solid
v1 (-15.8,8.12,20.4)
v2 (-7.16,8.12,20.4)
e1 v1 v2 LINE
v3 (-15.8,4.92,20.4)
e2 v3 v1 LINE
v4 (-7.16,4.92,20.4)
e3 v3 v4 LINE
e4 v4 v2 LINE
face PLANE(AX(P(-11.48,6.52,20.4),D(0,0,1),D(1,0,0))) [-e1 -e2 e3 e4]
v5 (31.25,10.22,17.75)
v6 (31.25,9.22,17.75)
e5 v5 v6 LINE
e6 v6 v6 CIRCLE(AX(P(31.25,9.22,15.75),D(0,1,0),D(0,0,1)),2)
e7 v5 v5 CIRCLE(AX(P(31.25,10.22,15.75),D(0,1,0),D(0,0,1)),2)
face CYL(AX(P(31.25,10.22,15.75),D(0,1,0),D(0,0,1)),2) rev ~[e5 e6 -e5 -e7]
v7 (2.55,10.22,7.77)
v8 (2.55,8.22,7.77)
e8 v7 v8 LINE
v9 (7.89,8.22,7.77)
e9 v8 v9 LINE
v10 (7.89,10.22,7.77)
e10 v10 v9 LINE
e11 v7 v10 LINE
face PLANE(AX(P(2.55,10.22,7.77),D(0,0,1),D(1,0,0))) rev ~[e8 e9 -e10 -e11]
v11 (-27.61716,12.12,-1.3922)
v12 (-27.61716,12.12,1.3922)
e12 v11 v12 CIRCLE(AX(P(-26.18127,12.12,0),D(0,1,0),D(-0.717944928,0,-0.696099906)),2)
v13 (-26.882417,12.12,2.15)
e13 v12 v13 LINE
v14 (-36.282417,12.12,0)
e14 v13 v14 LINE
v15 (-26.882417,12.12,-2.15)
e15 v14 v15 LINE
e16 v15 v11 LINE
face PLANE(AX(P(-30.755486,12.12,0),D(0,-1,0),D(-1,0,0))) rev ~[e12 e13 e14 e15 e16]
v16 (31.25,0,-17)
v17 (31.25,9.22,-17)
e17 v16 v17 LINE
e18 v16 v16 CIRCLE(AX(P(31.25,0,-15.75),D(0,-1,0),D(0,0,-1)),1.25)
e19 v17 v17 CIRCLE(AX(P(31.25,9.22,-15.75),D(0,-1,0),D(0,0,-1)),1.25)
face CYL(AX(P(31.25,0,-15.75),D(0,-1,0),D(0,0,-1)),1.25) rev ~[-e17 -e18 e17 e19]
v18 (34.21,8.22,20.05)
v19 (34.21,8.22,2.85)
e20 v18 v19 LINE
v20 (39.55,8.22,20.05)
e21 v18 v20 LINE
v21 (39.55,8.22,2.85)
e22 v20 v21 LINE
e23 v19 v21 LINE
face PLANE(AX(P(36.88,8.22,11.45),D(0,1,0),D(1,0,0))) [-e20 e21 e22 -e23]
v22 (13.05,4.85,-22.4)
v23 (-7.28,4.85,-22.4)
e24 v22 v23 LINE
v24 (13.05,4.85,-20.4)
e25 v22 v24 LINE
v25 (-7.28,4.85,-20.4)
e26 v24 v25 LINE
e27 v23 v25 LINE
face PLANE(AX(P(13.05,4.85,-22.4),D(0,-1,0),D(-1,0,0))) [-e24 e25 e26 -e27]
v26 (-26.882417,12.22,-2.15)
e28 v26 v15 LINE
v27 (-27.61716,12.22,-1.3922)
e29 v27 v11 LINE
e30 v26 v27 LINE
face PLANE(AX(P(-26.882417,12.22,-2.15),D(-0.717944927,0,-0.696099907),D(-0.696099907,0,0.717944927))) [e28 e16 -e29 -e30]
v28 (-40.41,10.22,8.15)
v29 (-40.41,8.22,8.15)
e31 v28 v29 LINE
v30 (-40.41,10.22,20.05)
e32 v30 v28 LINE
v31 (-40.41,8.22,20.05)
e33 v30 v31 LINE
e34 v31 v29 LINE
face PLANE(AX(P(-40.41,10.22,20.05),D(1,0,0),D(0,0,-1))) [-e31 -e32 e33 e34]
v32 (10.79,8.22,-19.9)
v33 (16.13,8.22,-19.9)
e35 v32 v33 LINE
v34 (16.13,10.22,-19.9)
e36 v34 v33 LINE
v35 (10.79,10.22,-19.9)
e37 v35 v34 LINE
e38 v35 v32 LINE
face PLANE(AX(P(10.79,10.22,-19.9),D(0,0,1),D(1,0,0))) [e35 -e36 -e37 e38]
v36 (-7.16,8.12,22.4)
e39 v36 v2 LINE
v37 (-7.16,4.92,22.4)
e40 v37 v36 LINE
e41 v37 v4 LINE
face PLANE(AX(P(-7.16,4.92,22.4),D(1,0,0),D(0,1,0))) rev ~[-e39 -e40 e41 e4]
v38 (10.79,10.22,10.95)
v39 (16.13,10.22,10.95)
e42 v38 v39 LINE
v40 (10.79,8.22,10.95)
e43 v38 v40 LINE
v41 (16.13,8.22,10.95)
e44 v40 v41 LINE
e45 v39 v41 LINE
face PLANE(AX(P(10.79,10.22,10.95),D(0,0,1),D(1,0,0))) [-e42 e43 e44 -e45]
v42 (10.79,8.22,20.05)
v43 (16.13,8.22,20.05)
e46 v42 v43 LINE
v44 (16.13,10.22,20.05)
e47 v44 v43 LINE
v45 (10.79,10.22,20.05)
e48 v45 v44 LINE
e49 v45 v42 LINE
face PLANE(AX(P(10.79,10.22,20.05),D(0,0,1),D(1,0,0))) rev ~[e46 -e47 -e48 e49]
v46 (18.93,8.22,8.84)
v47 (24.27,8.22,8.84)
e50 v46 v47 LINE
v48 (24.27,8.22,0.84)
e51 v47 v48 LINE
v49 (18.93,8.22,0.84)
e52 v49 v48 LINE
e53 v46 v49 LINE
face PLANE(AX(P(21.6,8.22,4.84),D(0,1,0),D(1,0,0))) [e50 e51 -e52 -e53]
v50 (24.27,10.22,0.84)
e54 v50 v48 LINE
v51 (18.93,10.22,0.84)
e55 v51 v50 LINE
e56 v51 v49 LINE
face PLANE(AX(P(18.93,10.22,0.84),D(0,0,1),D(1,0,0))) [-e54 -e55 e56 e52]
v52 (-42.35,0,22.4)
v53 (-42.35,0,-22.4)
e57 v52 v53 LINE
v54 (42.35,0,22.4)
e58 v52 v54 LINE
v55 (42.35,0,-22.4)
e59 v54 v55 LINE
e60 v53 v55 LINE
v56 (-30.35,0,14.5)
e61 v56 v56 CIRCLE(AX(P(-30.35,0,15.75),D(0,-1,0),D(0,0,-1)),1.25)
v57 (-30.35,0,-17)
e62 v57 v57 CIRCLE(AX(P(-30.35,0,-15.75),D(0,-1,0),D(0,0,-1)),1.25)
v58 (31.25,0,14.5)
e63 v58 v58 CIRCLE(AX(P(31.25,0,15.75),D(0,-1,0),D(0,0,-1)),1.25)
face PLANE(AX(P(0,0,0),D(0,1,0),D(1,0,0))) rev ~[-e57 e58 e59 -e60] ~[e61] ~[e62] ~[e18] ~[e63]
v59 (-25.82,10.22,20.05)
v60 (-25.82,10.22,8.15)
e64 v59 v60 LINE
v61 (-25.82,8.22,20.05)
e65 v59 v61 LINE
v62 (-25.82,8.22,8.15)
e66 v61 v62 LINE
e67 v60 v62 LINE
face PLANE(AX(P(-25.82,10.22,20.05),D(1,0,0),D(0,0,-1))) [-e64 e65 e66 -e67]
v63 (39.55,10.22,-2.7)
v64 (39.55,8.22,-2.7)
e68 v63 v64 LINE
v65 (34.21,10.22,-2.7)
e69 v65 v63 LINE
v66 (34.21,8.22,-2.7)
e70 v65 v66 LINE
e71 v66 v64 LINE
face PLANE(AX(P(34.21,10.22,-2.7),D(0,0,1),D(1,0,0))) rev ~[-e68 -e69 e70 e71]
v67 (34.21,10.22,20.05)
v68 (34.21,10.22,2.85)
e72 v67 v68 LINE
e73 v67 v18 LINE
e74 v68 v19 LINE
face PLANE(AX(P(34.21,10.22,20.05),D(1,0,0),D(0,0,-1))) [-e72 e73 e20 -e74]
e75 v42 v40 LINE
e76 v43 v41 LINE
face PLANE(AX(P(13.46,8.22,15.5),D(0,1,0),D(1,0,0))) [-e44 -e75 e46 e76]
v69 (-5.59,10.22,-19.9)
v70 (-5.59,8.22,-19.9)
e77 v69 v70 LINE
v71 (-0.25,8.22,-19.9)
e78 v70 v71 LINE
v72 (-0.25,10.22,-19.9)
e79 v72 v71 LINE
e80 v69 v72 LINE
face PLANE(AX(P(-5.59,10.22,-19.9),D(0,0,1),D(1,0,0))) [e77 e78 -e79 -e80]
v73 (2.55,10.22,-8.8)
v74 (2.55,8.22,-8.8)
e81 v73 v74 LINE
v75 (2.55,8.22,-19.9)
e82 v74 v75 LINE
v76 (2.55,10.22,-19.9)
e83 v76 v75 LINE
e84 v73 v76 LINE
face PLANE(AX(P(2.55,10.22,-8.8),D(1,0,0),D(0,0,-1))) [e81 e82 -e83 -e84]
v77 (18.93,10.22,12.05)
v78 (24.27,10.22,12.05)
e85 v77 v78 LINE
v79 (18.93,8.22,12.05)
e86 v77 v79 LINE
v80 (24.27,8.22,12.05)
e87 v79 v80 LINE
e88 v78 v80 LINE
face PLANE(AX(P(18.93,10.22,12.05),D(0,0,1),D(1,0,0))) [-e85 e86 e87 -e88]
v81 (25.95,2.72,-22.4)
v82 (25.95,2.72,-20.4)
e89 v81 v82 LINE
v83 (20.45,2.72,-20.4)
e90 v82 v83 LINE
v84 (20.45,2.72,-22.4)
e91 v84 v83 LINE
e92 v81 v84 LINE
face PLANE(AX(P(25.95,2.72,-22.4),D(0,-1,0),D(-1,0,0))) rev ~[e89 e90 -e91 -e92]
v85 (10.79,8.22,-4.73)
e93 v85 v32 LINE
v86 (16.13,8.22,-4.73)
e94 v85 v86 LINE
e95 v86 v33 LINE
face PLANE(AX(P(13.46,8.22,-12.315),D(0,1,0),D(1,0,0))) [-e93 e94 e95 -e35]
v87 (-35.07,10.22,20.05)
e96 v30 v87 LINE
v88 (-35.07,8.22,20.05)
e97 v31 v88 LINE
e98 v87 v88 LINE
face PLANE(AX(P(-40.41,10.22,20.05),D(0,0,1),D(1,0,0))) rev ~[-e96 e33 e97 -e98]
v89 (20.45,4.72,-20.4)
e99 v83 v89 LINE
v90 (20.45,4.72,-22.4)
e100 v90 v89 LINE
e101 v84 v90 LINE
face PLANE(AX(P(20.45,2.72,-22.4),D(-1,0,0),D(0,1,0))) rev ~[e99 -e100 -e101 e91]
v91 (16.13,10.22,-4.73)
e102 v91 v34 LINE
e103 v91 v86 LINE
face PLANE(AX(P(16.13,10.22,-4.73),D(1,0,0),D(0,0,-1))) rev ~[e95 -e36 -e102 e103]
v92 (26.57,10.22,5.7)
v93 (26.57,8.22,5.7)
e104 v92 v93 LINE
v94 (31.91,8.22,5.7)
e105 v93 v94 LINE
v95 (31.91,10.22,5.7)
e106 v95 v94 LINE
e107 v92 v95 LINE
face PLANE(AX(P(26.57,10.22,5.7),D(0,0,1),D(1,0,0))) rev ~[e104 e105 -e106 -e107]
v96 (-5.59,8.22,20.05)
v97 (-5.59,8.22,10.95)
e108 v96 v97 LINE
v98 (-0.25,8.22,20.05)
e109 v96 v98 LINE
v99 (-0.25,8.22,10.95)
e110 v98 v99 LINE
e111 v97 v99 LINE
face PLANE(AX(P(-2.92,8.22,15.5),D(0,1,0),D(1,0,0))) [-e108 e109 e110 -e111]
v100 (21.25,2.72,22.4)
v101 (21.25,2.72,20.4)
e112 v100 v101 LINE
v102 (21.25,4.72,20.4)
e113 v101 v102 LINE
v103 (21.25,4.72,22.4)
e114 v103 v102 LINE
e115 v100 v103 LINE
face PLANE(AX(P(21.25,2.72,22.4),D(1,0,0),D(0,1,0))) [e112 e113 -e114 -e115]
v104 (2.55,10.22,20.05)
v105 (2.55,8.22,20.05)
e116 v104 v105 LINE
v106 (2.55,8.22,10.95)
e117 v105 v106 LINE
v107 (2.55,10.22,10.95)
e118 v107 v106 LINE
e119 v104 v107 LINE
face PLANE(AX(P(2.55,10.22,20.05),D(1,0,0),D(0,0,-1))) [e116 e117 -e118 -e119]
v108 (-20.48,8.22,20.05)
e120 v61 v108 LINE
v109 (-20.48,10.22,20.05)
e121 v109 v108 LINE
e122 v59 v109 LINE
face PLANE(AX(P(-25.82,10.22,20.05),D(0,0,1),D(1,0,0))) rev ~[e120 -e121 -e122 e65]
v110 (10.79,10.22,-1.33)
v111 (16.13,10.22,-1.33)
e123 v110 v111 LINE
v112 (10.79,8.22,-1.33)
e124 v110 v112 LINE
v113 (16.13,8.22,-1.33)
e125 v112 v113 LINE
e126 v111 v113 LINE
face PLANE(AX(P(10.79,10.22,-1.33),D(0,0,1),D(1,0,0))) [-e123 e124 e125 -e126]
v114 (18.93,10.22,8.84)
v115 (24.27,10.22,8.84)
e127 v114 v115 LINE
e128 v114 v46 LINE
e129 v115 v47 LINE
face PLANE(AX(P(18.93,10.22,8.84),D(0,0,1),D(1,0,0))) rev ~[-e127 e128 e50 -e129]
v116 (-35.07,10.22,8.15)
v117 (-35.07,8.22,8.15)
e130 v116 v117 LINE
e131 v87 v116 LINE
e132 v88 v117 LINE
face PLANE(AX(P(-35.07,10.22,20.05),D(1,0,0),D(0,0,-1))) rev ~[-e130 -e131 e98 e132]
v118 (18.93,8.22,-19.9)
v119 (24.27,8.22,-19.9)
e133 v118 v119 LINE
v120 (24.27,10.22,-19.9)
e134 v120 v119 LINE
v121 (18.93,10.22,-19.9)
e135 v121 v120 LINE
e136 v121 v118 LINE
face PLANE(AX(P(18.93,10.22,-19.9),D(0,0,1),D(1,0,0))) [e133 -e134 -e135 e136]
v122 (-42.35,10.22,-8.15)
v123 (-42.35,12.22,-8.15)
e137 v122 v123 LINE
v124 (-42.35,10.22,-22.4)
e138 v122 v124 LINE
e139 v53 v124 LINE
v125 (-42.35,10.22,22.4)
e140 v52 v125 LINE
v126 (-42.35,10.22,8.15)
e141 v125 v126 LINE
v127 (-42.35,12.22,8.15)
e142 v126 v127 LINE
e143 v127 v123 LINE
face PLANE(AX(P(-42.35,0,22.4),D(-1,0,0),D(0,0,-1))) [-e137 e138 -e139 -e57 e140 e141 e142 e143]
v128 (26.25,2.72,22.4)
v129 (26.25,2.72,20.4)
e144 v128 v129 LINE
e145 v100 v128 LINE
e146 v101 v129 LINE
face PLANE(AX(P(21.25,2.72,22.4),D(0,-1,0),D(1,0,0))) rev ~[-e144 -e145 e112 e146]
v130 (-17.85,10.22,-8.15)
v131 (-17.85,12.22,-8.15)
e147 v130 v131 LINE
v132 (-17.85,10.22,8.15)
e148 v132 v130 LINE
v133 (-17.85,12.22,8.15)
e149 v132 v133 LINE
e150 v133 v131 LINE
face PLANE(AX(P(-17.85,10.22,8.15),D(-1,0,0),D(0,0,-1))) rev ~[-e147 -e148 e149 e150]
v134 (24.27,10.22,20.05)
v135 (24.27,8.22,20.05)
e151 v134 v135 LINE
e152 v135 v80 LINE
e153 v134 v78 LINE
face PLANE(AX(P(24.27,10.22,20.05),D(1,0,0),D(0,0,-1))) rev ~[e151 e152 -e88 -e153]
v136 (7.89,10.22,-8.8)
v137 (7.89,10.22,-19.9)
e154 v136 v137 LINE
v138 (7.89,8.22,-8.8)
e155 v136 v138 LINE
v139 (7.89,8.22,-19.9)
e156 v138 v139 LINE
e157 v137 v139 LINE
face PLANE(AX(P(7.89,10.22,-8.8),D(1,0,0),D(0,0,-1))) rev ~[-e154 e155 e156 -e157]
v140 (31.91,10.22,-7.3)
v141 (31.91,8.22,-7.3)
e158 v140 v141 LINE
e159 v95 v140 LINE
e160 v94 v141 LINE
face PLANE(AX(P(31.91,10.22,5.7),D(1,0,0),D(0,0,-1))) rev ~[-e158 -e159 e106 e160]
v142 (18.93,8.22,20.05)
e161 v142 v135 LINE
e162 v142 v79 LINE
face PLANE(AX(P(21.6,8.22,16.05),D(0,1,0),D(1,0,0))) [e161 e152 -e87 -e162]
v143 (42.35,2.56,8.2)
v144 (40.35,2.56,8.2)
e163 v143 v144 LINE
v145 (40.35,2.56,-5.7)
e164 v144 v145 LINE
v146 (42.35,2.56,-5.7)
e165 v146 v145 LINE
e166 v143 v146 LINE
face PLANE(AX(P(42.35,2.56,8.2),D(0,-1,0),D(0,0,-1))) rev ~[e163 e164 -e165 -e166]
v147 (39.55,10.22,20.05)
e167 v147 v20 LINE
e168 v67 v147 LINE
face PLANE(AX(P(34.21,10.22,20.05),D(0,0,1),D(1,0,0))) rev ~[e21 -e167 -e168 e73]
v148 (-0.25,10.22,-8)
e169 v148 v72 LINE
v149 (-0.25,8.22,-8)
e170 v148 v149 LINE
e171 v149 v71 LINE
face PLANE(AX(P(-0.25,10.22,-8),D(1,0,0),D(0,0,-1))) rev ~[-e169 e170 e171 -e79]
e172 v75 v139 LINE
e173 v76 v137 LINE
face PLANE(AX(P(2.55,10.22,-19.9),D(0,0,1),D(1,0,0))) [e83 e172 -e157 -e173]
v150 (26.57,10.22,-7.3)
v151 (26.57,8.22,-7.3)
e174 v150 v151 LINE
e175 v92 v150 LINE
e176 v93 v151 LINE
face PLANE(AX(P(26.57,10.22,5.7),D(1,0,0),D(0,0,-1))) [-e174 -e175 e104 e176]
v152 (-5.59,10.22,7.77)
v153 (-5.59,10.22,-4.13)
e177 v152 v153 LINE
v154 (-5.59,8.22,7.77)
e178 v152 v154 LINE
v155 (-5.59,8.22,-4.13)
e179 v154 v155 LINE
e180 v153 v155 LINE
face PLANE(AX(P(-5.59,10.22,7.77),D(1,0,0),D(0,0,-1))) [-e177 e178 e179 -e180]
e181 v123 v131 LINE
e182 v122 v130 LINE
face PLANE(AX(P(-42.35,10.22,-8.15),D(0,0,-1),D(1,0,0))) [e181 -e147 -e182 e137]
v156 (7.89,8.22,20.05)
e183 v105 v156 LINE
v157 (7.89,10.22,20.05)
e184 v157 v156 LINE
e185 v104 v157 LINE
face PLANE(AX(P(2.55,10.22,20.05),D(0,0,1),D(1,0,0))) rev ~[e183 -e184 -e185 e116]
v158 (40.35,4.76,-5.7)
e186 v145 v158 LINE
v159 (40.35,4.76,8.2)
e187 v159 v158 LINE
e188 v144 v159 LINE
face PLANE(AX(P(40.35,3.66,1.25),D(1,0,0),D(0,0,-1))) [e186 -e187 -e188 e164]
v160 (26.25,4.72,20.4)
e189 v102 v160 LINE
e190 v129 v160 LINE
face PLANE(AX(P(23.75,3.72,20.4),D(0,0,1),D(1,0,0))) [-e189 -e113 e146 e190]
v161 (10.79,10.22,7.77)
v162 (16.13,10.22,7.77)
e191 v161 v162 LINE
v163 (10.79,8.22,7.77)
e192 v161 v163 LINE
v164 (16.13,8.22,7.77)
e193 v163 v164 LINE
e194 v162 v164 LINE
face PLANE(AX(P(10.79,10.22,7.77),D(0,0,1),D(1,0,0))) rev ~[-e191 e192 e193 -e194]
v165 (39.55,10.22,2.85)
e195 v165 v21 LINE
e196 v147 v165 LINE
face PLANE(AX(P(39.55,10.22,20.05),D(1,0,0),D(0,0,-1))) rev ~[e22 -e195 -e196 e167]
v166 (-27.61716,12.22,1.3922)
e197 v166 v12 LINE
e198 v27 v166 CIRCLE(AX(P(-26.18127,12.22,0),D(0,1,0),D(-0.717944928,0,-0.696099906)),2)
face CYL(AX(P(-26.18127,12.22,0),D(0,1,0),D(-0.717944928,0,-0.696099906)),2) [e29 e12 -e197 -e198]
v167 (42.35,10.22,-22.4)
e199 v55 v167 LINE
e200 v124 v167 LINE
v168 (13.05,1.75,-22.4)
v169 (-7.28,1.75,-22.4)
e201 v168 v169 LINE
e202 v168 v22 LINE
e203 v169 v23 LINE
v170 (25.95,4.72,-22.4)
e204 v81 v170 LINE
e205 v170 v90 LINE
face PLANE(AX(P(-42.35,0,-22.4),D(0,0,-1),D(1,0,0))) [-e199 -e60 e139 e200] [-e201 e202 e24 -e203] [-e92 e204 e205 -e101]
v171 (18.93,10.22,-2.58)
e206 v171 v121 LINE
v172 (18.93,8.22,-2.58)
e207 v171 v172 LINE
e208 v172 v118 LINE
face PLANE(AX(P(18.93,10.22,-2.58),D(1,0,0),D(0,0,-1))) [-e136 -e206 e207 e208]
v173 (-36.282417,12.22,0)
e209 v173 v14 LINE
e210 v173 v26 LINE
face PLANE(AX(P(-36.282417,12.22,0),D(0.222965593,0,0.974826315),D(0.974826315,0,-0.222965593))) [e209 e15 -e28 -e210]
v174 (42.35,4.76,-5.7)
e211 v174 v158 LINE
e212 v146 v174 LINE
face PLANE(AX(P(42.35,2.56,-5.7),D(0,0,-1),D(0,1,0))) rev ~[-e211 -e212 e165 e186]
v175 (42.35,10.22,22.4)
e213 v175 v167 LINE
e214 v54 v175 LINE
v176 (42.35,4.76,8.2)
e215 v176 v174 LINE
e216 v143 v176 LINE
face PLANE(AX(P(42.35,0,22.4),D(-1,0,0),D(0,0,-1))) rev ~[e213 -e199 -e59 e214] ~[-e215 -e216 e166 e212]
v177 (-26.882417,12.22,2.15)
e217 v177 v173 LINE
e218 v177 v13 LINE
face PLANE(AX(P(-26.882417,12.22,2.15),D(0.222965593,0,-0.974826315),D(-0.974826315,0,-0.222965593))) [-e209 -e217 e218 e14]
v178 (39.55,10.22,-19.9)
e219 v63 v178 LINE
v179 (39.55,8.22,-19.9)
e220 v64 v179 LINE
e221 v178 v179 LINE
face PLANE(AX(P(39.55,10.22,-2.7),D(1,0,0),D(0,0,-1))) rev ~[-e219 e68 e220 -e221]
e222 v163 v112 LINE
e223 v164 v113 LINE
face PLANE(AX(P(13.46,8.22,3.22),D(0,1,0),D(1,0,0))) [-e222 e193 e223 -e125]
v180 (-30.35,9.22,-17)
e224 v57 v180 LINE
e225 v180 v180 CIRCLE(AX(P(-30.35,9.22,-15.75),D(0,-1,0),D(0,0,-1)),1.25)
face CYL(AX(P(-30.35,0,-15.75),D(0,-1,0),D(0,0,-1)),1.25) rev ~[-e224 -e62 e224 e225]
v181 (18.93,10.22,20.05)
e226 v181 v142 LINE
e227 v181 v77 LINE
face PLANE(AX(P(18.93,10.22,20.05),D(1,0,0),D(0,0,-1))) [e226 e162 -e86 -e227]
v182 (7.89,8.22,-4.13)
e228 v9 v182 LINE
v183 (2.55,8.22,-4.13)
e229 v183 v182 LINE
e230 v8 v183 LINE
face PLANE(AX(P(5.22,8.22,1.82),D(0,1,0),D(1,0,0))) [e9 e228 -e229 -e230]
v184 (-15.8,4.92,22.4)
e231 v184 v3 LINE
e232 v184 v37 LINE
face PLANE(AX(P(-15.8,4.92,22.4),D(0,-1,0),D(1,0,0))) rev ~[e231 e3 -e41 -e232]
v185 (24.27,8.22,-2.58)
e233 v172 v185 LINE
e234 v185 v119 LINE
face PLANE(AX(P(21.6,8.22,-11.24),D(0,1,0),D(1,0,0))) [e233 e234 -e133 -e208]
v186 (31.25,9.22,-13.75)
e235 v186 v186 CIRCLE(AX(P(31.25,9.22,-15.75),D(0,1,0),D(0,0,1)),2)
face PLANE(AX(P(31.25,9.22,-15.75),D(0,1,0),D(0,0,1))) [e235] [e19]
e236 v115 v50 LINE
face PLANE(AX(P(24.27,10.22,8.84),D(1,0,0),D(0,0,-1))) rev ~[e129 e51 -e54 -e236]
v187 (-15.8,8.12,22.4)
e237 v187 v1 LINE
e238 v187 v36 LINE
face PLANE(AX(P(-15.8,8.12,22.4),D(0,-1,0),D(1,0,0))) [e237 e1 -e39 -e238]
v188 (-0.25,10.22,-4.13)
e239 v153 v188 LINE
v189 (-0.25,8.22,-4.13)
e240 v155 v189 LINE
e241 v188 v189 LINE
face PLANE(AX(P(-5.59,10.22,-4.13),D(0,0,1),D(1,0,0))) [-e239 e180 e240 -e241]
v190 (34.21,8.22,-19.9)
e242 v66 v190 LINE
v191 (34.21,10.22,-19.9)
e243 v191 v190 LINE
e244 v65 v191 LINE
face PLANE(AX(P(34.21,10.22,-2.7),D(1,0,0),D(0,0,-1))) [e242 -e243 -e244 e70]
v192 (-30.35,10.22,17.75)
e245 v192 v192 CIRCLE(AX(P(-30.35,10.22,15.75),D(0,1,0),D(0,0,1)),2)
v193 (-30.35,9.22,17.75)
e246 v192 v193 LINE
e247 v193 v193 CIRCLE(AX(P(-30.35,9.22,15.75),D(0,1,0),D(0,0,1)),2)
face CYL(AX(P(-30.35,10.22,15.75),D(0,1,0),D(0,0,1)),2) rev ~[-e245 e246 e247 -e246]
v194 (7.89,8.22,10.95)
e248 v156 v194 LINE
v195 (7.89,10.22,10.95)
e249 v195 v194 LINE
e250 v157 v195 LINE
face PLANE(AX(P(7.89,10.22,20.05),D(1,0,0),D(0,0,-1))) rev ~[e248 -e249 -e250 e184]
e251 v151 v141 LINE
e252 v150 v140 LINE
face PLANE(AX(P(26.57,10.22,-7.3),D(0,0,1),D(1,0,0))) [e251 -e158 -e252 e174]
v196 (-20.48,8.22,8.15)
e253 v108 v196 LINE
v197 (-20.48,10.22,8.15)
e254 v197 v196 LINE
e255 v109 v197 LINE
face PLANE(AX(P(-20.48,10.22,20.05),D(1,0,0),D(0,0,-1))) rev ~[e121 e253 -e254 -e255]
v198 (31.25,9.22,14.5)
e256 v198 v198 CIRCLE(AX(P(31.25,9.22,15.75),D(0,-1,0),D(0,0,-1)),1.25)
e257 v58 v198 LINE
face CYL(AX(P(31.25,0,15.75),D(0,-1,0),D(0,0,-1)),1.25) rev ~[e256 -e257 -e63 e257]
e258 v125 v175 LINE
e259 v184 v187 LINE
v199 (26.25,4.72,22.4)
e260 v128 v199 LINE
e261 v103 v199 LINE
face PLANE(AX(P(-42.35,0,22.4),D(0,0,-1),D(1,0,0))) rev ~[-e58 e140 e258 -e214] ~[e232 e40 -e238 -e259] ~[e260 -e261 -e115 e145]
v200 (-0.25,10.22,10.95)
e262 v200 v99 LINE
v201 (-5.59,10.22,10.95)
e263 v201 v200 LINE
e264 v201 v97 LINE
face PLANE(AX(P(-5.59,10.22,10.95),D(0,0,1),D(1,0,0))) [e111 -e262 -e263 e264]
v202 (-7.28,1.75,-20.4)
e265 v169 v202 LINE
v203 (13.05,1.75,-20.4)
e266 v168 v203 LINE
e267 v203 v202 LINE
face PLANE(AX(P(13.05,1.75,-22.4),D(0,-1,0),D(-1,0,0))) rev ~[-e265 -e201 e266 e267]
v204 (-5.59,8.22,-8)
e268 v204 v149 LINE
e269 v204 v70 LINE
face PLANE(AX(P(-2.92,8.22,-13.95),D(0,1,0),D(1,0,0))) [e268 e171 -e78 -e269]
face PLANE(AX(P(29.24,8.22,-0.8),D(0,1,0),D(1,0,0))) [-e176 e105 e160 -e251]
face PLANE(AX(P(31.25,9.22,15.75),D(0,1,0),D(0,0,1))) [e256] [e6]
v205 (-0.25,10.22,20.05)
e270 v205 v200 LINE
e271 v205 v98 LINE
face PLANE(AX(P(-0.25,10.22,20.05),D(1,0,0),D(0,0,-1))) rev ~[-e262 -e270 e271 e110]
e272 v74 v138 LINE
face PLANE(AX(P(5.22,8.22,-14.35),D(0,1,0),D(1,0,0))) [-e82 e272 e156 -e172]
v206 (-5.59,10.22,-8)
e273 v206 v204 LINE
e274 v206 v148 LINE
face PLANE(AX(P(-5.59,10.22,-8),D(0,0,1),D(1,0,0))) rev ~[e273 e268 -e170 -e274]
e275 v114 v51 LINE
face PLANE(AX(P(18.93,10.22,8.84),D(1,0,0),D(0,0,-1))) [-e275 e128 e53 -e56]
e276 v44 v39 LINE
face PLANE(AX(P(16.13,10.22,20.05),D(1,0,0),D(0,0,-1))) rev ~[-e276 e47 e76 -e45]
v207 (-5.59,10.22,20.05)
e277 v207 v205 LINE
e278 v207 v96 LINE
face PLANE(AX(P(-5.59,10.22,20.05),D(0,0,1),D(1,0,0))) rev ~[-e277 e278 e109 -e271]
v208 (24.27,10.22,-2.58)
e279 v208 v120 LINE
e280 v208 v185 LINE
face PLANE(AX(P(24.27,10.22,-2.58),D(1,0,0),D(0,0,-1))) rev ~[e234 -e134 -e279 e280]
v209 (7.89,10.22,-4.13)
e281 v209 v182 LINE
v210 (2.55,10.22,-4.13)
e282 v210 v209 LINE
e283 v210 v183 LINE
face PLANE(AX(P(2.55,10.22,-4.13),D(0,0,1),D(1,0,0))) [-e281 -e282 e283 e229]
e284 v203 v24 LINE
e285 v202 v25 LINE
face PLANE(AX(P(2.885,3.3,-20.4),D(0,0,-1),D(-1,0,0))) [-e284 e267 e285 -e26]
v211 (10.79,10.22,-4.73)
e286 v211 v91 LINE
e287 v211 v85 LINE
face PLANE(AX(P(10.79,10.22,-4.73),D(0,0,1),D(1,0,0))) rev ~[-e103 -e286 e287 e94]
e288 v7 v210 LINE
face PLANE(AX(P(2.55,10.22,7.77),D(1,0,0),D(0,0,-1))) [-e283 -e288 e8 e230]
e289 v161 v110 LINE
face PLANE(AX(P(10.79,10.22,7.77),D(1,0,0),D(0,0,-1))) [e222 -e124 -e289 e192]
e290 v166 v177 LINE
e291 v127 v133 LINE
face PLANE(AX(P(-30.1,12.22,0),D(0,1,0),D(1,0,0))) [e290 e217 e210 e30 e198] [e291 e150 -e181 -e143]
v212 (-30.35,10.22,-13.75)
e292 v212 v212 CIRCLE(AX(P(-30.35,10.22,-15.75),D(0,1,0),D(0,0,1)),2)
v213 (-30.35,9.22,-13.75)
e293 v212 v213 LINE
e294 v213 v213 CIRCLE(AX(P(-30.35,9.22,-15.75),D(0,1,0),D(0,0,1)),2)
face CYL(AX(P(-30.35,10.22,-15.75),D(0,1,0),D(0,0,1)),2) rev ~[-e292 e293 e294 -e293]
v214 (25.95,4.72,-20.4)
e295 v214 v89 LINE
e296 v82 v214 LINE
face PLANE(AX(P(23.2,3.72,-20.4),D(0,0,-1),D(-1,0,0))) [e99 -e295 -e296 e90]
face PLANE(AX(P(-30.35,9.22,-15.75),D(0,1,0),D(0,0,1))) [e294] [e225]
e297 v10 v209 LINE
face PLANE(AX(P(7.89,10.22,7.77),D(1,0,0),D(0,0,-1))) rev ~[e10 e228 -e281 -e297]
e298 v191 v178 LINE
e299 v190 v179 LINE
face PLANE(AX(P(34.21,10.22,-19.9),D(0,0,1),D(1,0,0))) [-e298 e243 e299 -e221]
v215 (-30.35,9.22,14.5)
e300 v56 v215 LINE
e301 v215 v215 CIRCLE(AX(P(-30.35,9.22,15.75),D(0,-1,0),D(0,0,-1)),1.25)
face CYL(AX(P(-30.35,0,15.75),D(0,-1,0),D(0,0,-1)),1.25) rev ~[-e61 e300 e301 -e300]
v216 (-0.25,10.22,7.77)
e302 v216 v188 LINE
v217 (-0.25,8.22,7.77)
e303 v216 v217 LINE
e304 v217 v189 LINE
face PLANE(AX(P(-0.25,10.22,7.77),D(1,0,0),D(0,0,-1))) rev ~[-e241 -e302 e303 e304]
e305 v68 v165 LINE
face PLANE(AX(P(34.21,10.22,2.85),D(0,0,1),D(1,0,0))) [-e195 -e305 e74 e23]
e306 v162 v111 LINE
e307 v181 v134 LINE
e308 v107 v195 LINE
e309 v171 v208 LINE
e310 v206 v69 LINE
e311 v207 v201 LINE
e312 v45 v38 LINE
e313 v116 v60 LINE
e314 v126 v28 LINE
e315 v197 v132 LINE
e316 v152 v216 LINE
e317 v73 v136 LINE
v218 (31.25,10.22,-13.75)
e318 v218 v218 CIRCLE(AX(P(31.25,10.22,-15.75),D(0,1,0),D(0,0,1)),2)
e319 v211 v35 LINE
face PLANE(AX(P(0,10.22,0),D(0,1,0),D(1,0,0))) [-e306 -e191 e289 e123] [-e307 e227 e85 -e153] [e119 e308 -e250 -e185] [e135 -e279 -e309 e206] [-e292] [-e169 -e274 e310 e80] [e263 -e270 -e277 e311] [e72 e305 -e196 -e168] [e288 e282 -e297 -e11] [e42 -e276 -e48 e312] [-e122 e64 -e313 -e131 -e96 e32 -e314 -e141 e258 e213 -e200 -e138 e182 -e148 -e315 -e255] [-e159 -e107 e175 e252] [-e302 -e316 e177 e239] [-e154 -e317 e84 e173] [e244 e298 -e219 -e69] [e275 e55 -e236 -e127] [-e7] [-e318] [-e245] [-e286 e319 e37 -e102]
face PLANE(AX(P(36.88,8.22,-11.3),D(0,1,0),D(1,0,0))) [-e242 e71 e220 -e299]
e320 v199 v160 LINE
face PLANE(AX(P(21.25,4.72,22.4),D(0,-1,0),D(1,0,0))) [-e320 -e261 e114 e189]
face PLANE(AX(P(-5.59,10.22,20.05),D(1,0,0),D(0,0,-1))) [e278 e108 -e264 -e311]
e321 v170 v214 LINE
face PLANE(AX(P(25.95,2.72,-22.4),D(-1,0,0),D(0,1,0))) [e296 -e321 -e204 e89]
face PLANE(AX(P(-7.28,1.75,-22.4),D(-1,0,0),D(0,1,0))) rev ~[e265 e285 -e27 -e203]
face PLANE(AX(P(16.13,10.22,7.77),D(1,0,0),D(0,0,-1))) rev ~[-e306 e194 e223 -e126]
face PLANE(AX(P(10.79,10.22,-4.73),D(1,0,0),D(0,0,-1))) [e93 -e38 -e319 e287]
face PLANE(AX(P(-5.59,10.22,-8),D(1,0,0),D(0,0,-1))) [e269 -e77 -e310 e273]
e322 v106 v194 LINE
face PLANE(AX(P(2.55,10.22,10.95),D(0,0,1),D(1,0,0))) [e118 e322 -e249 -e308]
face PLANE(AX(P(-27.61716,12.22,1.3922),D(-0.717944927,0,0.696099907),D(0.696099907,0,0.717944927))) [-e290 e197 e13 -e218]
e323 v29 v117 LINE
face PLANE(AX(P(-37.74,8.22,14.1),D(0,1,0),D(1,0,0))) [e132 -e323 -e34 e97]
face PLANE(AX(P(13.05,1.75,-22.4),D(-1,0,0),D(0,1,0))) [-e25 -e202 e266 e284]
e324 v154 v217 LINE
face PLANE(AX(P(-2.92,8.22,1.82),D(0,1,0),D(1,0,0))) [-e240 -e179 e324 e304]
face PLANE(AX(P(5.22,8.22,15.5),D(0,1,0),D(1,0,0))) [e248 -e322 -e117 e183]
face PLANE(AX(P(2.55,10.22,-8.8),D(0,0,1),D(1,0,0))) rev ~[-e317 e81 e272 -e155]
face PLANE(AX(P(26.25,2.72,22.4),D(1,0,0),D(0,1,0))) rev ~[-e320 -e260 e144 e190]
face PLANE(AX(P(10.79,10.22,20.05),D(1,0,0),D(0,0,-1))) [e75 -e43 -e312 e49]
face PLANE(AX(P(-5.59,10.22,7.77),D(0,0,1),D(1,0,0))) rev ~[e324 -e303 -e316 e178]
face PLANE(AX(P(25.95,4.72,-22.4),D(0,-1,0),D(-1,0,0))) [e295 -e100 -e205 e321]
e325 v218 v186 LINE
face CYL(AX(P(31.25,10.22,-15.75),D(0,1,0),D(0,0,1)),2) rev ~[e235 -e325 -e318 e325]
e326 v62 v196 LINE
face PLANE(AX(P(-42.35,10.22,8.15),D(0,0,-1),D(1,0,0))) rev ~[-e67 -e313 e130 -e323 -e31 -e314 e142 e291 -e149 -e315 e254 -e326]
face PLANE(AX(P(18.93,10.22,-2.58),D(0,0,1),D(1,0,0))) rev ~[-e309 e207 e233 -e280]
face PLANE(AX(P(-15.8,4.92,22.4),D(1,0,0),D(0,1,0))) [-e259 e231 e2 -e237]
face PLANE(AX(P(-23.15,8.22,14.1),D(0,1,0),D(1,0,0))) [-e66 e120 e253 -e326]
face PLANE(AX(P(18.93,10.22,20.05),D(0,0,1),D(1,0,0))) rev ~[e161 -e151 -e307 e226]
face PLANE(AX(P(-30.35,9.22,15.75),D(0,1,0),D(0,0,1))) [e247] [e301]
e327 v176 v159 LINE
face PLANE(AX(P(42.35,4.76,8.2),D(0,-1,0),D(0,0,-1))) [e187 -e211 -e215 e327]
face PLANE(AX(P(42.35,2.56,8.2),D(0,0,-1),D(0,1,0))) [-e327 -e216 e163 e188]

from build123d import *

# Parameters (mm, degrees)
SKETCH1_W           = 84.7
SKETCH1_H           = 44.8
BOSS_EXTRUDE1_DEPTH = 10.22
SKETCH2_W           = 24.5
SKETCH2_H           = 16.3
BOSS_EXTRUDE2_DEPTH = 2
SKETCH3_W           = 5.34
SKETCH3_H           = 9.1
SKETCH3_H_2         = 11.9
SKETCH3_H_3         = 11.1
SKETCH3_H_4         = 15.17
SKETCH3_H_5         = 17.32
SKETCH3_H_6         = 8
SKETCH3_H_7         = 13
SKETCH3_H_8         = 17.2
CUT_EXTRUDE1_DEPTH  = 2
SKETCH4_R           = 1.25
CUT_EXTRUDE2_DEPTH  = 50.443006583
SKETCH5_R           = 2
CUT_EXTRUDE3_DEPTH  = 1
SKETCH7_W           = 8.64
SKETCH7_H           = 3.2
CUT_EXTRUDE5_DEPTH  = 2
SKETCH8_W           = 5
SKETCH8_H           = 2
CUT_EXTRUDE6_DEPTH  = 2
SKETCH9_W           = 20.33
SKETCH9_H           = 3.1
SKETCH9_W_2         = 5.5
SKETCH9_H_2         = 2
CUT_EXTRUDE7_DEPTH  = 2
SKETCH10_W          = 13.9
SKETCH10_H          = 2.2
CUT_EXTRUDE8_DEPTH  = 2
CUT_EXTRUDE9_DEPTH  = 0.1


with BuildPart() as part:
    # Sketch1 → Boss-Extrude1 (new body)
    with BuildSketch(Plane(origin=(0, 0, 0), x_dir=(1, 0, 0), z_dir=(0, 1, 0))):
        Rectangle(SKETCH1_W, SKETCH1_H)
    extrude(amount=BOSS_EXTRUDE1_DEPTH)

    # Sketch2 → Boss-Extrude2 (add)
    with BuildSketch(Plane(origin=(0, 10.22, 0), x_dir=(1, 0, 0), z_dir=(0, 1, 0))):
        with Locations((-30.1, 0)):
            Rectangle(SKETCH2_W, SKETCH2_H)
    extrude(amount=BOSS_EXTRUDE2_DEPTH)

    # Sketch3 → Cut-Extrude1 (cut)
    with BuildSketch(Plane(origin=(0, 10.22, 0), x_dir=(1, 0, 0), z_dir=(0, 1, 0))):
        with Locations((-2.92, -15.5)):
            Rectangle(SKETCH3_W, SKETCH3_H)
        with Locations((-2.92, -1.82)):
            Rectangle(SKETCH3_W, SKETCH3_H_2)
        with Locations((-2.92, 13.95)):
            Rectangle(SKETCH3_W, SKETCH3_H_2)
        with Locations((5.22, 14.35)):
            Rectangle(SKETCH3_W, SKETCH3_H_3)
        with Locations((5.22, -1.82)):
            Rectangle(SKETCH3_W, SKETCH3_H_2)
        with Locations((5.22, -15.5)):
            Rectangle(SKETCH3_W, SKETCH3_H)
        with Locations((13.46, -15.5)):
            Rectangle(SKETCH3_W, SKETCH3_H)
        with Locations((13.46, -3.22)):
            Rectangle(SKETCH3_W, SKETCH3_H)
        with Locations((13.46, 12.315)):
            Rectangle(SKETCH3_W, SKETCH3_H_4)
        with Locations((21.6, 11.24)):
            Rectangle(SKETCH3_W, SKETCH3_H_5)
        with Locations((21.6, -4.84)):
            Rectangle(SKETCH3_W, SKETCH3_H_6)
        with Locations((21.6, -16.05)):
            Rectangle(SKETCH3_W, SKETCH3_H_6)
        with Locations((29.24, 0.8)):
            Rectangle(SKETCH3_W, SKETCH3_H_7)
        with Locations((36.88, 11.3)):
            Rectangle(SKETCH3_W, SKETCH3_H_8)
        with Locations((36.88, -11.45)):
            Rectangle(SKETCH3_W, SKETCH3_H_8)
        with Locations((-37.74, -14.1)):
            Rectangle(SKETCH3_W, SKETCH3_H_2)
        with Locations((-23.15, -14.1)):
            Rectangle(SKETCH3_W, SKETCH3_H_2)
    extrude(amount=-CUT_EXTRUDE1_DEPTH, mode=Mode.SUBTRACT)

    # Sketch4 → Cut-Extrude2 (cut, through all)
    with BuildSketch(Plane.XZ):
        with Locations(Location((-30.35, 15.75, 0), (0, 0, 270))):
            Circle(SKETCH4_R)
        with Locations(Location((-30.35, -15.75, 0), (0, 0, 270))):
            Circle(SKETCH4_R)
        with Locations(Location((31.25, 15.75, 0), (0, 0, 270))):
            Circle(SKETCH4_R)
        with Locations(Location((31.25, -15.75, 0), (0, 0, 270))):
            Circle(SKETCH4_R)
    extrude(amount=-CUT_EXTRUDE2_DEPTH, mode=Mode.SUBTRACT)

    # Sketch5 → Cut-Extrude3 (cut)
    with BuildSketch(Plane(origin=(0, 10.22, 0), x_dir=(1, 0, 0), z_dir=(0, 1, 0))):
        with Locations(Location((-30.35, -15.75, 0), (0, 0, 270))):
            Circle(SKETCH5_R)
        with Locations(Location((31.25, 15.75, 0), (0, 0, 270))):
            Circle(SKETCH5_R)
        with Locations(Location((31.25, -15.75, 0), (0, 0, 270))):
            Circle(SKETCH5_R)
        with Locations(Location((-30.35, 15.75, 0), (0, 0, 270))):
            Circle(SKETCH5_R)
    extrude(amount=-CUT_EXTRUDE3_DEPTH, mode=Mode.SUBTRACT)

    # Sketch7 → Cut-Extrude5 (cut)
    with BuildSketch(Plane.XY.offset(22.4)):
        with Locations((-11.48, 6.52)):
            Rectangle(SKETCH7_W, SKETCH7_H)
    extrude(amount=-CUT_EXTRUDE5_DEPTH, mode=Mode.SUBTRACT)

    # Sketch8 → Cut-Extrude6 (cut)
    with BuildSketch(Plane.XY.offset(22.4)):
        with Locations((23.75, 3.72)):
            Rectangle(SKETCH8_W, SKETCH8_H)
    extrude(amount=-CUT_EXTRUDE6_DEPTH, mode=Mode.SUBTRACT)

    # Sketch9 → Cut-Extrude7 (cut)
    with BuildSketch(Plane(origin=(0, 0, -22.4), x_dir=(-1, 0, 0), z_dir=(0, 0, -1))):
        with Locations((-2.885, 3.3)):
            Rectangle(SKETCH9_W, SKETCH9_H)
        with Locations((-23.2, 3.72)):
            Rectangle(SKETCH9_W_2, SKETCH9_H_2)
    extrude(amount=-CUT_EXTRUDE7_DEPTH, mode=Mode.SUBTRACT)

    # Sketch10 → Cut-Extrude8 (cut)
    with BuildSketch(Plane(origin=(42.35, 0, 0), x_dir=(0, 0, -1), z_dir=(1, 0, 0))):
        with Locations((-1.25, 3.66)):
            Rectangle(SKETCH10_W, SKETCH10_H)
    extrude(amount=-CUT_EXTRUDE8_DEPTH, mode=Mode.SUBTRACT)

    # Sketch11 → Cut-Extrude9 (cut)
    with BuildSketch(Plane(origin=(0, 12.22, 0), x_dir=(1, 0, 0), z_dir=(0, 1, 0))):
        with BuildLine():
            Line((-36.282417149, 0), (-26.882417149, 2.15))
            Line((-26.882417149, 2.15), (-27.617159632, 1.392199815))
            ThreePointArc((-27.617159632, 1.392199815), (-28.181269776, 0), (-27.617159632, -1.392199815))
            Line((-27.617159632, -1.392199815), (-26.882417149, -2.15))
            Line((-26.882417149, -2.15), (-36.282417149, 0))
        make_face()
    extrude(amount=-CUT_EXTRUDE9_DEPTH, mode=Mode.SUBTRACT)


solid = part.part
